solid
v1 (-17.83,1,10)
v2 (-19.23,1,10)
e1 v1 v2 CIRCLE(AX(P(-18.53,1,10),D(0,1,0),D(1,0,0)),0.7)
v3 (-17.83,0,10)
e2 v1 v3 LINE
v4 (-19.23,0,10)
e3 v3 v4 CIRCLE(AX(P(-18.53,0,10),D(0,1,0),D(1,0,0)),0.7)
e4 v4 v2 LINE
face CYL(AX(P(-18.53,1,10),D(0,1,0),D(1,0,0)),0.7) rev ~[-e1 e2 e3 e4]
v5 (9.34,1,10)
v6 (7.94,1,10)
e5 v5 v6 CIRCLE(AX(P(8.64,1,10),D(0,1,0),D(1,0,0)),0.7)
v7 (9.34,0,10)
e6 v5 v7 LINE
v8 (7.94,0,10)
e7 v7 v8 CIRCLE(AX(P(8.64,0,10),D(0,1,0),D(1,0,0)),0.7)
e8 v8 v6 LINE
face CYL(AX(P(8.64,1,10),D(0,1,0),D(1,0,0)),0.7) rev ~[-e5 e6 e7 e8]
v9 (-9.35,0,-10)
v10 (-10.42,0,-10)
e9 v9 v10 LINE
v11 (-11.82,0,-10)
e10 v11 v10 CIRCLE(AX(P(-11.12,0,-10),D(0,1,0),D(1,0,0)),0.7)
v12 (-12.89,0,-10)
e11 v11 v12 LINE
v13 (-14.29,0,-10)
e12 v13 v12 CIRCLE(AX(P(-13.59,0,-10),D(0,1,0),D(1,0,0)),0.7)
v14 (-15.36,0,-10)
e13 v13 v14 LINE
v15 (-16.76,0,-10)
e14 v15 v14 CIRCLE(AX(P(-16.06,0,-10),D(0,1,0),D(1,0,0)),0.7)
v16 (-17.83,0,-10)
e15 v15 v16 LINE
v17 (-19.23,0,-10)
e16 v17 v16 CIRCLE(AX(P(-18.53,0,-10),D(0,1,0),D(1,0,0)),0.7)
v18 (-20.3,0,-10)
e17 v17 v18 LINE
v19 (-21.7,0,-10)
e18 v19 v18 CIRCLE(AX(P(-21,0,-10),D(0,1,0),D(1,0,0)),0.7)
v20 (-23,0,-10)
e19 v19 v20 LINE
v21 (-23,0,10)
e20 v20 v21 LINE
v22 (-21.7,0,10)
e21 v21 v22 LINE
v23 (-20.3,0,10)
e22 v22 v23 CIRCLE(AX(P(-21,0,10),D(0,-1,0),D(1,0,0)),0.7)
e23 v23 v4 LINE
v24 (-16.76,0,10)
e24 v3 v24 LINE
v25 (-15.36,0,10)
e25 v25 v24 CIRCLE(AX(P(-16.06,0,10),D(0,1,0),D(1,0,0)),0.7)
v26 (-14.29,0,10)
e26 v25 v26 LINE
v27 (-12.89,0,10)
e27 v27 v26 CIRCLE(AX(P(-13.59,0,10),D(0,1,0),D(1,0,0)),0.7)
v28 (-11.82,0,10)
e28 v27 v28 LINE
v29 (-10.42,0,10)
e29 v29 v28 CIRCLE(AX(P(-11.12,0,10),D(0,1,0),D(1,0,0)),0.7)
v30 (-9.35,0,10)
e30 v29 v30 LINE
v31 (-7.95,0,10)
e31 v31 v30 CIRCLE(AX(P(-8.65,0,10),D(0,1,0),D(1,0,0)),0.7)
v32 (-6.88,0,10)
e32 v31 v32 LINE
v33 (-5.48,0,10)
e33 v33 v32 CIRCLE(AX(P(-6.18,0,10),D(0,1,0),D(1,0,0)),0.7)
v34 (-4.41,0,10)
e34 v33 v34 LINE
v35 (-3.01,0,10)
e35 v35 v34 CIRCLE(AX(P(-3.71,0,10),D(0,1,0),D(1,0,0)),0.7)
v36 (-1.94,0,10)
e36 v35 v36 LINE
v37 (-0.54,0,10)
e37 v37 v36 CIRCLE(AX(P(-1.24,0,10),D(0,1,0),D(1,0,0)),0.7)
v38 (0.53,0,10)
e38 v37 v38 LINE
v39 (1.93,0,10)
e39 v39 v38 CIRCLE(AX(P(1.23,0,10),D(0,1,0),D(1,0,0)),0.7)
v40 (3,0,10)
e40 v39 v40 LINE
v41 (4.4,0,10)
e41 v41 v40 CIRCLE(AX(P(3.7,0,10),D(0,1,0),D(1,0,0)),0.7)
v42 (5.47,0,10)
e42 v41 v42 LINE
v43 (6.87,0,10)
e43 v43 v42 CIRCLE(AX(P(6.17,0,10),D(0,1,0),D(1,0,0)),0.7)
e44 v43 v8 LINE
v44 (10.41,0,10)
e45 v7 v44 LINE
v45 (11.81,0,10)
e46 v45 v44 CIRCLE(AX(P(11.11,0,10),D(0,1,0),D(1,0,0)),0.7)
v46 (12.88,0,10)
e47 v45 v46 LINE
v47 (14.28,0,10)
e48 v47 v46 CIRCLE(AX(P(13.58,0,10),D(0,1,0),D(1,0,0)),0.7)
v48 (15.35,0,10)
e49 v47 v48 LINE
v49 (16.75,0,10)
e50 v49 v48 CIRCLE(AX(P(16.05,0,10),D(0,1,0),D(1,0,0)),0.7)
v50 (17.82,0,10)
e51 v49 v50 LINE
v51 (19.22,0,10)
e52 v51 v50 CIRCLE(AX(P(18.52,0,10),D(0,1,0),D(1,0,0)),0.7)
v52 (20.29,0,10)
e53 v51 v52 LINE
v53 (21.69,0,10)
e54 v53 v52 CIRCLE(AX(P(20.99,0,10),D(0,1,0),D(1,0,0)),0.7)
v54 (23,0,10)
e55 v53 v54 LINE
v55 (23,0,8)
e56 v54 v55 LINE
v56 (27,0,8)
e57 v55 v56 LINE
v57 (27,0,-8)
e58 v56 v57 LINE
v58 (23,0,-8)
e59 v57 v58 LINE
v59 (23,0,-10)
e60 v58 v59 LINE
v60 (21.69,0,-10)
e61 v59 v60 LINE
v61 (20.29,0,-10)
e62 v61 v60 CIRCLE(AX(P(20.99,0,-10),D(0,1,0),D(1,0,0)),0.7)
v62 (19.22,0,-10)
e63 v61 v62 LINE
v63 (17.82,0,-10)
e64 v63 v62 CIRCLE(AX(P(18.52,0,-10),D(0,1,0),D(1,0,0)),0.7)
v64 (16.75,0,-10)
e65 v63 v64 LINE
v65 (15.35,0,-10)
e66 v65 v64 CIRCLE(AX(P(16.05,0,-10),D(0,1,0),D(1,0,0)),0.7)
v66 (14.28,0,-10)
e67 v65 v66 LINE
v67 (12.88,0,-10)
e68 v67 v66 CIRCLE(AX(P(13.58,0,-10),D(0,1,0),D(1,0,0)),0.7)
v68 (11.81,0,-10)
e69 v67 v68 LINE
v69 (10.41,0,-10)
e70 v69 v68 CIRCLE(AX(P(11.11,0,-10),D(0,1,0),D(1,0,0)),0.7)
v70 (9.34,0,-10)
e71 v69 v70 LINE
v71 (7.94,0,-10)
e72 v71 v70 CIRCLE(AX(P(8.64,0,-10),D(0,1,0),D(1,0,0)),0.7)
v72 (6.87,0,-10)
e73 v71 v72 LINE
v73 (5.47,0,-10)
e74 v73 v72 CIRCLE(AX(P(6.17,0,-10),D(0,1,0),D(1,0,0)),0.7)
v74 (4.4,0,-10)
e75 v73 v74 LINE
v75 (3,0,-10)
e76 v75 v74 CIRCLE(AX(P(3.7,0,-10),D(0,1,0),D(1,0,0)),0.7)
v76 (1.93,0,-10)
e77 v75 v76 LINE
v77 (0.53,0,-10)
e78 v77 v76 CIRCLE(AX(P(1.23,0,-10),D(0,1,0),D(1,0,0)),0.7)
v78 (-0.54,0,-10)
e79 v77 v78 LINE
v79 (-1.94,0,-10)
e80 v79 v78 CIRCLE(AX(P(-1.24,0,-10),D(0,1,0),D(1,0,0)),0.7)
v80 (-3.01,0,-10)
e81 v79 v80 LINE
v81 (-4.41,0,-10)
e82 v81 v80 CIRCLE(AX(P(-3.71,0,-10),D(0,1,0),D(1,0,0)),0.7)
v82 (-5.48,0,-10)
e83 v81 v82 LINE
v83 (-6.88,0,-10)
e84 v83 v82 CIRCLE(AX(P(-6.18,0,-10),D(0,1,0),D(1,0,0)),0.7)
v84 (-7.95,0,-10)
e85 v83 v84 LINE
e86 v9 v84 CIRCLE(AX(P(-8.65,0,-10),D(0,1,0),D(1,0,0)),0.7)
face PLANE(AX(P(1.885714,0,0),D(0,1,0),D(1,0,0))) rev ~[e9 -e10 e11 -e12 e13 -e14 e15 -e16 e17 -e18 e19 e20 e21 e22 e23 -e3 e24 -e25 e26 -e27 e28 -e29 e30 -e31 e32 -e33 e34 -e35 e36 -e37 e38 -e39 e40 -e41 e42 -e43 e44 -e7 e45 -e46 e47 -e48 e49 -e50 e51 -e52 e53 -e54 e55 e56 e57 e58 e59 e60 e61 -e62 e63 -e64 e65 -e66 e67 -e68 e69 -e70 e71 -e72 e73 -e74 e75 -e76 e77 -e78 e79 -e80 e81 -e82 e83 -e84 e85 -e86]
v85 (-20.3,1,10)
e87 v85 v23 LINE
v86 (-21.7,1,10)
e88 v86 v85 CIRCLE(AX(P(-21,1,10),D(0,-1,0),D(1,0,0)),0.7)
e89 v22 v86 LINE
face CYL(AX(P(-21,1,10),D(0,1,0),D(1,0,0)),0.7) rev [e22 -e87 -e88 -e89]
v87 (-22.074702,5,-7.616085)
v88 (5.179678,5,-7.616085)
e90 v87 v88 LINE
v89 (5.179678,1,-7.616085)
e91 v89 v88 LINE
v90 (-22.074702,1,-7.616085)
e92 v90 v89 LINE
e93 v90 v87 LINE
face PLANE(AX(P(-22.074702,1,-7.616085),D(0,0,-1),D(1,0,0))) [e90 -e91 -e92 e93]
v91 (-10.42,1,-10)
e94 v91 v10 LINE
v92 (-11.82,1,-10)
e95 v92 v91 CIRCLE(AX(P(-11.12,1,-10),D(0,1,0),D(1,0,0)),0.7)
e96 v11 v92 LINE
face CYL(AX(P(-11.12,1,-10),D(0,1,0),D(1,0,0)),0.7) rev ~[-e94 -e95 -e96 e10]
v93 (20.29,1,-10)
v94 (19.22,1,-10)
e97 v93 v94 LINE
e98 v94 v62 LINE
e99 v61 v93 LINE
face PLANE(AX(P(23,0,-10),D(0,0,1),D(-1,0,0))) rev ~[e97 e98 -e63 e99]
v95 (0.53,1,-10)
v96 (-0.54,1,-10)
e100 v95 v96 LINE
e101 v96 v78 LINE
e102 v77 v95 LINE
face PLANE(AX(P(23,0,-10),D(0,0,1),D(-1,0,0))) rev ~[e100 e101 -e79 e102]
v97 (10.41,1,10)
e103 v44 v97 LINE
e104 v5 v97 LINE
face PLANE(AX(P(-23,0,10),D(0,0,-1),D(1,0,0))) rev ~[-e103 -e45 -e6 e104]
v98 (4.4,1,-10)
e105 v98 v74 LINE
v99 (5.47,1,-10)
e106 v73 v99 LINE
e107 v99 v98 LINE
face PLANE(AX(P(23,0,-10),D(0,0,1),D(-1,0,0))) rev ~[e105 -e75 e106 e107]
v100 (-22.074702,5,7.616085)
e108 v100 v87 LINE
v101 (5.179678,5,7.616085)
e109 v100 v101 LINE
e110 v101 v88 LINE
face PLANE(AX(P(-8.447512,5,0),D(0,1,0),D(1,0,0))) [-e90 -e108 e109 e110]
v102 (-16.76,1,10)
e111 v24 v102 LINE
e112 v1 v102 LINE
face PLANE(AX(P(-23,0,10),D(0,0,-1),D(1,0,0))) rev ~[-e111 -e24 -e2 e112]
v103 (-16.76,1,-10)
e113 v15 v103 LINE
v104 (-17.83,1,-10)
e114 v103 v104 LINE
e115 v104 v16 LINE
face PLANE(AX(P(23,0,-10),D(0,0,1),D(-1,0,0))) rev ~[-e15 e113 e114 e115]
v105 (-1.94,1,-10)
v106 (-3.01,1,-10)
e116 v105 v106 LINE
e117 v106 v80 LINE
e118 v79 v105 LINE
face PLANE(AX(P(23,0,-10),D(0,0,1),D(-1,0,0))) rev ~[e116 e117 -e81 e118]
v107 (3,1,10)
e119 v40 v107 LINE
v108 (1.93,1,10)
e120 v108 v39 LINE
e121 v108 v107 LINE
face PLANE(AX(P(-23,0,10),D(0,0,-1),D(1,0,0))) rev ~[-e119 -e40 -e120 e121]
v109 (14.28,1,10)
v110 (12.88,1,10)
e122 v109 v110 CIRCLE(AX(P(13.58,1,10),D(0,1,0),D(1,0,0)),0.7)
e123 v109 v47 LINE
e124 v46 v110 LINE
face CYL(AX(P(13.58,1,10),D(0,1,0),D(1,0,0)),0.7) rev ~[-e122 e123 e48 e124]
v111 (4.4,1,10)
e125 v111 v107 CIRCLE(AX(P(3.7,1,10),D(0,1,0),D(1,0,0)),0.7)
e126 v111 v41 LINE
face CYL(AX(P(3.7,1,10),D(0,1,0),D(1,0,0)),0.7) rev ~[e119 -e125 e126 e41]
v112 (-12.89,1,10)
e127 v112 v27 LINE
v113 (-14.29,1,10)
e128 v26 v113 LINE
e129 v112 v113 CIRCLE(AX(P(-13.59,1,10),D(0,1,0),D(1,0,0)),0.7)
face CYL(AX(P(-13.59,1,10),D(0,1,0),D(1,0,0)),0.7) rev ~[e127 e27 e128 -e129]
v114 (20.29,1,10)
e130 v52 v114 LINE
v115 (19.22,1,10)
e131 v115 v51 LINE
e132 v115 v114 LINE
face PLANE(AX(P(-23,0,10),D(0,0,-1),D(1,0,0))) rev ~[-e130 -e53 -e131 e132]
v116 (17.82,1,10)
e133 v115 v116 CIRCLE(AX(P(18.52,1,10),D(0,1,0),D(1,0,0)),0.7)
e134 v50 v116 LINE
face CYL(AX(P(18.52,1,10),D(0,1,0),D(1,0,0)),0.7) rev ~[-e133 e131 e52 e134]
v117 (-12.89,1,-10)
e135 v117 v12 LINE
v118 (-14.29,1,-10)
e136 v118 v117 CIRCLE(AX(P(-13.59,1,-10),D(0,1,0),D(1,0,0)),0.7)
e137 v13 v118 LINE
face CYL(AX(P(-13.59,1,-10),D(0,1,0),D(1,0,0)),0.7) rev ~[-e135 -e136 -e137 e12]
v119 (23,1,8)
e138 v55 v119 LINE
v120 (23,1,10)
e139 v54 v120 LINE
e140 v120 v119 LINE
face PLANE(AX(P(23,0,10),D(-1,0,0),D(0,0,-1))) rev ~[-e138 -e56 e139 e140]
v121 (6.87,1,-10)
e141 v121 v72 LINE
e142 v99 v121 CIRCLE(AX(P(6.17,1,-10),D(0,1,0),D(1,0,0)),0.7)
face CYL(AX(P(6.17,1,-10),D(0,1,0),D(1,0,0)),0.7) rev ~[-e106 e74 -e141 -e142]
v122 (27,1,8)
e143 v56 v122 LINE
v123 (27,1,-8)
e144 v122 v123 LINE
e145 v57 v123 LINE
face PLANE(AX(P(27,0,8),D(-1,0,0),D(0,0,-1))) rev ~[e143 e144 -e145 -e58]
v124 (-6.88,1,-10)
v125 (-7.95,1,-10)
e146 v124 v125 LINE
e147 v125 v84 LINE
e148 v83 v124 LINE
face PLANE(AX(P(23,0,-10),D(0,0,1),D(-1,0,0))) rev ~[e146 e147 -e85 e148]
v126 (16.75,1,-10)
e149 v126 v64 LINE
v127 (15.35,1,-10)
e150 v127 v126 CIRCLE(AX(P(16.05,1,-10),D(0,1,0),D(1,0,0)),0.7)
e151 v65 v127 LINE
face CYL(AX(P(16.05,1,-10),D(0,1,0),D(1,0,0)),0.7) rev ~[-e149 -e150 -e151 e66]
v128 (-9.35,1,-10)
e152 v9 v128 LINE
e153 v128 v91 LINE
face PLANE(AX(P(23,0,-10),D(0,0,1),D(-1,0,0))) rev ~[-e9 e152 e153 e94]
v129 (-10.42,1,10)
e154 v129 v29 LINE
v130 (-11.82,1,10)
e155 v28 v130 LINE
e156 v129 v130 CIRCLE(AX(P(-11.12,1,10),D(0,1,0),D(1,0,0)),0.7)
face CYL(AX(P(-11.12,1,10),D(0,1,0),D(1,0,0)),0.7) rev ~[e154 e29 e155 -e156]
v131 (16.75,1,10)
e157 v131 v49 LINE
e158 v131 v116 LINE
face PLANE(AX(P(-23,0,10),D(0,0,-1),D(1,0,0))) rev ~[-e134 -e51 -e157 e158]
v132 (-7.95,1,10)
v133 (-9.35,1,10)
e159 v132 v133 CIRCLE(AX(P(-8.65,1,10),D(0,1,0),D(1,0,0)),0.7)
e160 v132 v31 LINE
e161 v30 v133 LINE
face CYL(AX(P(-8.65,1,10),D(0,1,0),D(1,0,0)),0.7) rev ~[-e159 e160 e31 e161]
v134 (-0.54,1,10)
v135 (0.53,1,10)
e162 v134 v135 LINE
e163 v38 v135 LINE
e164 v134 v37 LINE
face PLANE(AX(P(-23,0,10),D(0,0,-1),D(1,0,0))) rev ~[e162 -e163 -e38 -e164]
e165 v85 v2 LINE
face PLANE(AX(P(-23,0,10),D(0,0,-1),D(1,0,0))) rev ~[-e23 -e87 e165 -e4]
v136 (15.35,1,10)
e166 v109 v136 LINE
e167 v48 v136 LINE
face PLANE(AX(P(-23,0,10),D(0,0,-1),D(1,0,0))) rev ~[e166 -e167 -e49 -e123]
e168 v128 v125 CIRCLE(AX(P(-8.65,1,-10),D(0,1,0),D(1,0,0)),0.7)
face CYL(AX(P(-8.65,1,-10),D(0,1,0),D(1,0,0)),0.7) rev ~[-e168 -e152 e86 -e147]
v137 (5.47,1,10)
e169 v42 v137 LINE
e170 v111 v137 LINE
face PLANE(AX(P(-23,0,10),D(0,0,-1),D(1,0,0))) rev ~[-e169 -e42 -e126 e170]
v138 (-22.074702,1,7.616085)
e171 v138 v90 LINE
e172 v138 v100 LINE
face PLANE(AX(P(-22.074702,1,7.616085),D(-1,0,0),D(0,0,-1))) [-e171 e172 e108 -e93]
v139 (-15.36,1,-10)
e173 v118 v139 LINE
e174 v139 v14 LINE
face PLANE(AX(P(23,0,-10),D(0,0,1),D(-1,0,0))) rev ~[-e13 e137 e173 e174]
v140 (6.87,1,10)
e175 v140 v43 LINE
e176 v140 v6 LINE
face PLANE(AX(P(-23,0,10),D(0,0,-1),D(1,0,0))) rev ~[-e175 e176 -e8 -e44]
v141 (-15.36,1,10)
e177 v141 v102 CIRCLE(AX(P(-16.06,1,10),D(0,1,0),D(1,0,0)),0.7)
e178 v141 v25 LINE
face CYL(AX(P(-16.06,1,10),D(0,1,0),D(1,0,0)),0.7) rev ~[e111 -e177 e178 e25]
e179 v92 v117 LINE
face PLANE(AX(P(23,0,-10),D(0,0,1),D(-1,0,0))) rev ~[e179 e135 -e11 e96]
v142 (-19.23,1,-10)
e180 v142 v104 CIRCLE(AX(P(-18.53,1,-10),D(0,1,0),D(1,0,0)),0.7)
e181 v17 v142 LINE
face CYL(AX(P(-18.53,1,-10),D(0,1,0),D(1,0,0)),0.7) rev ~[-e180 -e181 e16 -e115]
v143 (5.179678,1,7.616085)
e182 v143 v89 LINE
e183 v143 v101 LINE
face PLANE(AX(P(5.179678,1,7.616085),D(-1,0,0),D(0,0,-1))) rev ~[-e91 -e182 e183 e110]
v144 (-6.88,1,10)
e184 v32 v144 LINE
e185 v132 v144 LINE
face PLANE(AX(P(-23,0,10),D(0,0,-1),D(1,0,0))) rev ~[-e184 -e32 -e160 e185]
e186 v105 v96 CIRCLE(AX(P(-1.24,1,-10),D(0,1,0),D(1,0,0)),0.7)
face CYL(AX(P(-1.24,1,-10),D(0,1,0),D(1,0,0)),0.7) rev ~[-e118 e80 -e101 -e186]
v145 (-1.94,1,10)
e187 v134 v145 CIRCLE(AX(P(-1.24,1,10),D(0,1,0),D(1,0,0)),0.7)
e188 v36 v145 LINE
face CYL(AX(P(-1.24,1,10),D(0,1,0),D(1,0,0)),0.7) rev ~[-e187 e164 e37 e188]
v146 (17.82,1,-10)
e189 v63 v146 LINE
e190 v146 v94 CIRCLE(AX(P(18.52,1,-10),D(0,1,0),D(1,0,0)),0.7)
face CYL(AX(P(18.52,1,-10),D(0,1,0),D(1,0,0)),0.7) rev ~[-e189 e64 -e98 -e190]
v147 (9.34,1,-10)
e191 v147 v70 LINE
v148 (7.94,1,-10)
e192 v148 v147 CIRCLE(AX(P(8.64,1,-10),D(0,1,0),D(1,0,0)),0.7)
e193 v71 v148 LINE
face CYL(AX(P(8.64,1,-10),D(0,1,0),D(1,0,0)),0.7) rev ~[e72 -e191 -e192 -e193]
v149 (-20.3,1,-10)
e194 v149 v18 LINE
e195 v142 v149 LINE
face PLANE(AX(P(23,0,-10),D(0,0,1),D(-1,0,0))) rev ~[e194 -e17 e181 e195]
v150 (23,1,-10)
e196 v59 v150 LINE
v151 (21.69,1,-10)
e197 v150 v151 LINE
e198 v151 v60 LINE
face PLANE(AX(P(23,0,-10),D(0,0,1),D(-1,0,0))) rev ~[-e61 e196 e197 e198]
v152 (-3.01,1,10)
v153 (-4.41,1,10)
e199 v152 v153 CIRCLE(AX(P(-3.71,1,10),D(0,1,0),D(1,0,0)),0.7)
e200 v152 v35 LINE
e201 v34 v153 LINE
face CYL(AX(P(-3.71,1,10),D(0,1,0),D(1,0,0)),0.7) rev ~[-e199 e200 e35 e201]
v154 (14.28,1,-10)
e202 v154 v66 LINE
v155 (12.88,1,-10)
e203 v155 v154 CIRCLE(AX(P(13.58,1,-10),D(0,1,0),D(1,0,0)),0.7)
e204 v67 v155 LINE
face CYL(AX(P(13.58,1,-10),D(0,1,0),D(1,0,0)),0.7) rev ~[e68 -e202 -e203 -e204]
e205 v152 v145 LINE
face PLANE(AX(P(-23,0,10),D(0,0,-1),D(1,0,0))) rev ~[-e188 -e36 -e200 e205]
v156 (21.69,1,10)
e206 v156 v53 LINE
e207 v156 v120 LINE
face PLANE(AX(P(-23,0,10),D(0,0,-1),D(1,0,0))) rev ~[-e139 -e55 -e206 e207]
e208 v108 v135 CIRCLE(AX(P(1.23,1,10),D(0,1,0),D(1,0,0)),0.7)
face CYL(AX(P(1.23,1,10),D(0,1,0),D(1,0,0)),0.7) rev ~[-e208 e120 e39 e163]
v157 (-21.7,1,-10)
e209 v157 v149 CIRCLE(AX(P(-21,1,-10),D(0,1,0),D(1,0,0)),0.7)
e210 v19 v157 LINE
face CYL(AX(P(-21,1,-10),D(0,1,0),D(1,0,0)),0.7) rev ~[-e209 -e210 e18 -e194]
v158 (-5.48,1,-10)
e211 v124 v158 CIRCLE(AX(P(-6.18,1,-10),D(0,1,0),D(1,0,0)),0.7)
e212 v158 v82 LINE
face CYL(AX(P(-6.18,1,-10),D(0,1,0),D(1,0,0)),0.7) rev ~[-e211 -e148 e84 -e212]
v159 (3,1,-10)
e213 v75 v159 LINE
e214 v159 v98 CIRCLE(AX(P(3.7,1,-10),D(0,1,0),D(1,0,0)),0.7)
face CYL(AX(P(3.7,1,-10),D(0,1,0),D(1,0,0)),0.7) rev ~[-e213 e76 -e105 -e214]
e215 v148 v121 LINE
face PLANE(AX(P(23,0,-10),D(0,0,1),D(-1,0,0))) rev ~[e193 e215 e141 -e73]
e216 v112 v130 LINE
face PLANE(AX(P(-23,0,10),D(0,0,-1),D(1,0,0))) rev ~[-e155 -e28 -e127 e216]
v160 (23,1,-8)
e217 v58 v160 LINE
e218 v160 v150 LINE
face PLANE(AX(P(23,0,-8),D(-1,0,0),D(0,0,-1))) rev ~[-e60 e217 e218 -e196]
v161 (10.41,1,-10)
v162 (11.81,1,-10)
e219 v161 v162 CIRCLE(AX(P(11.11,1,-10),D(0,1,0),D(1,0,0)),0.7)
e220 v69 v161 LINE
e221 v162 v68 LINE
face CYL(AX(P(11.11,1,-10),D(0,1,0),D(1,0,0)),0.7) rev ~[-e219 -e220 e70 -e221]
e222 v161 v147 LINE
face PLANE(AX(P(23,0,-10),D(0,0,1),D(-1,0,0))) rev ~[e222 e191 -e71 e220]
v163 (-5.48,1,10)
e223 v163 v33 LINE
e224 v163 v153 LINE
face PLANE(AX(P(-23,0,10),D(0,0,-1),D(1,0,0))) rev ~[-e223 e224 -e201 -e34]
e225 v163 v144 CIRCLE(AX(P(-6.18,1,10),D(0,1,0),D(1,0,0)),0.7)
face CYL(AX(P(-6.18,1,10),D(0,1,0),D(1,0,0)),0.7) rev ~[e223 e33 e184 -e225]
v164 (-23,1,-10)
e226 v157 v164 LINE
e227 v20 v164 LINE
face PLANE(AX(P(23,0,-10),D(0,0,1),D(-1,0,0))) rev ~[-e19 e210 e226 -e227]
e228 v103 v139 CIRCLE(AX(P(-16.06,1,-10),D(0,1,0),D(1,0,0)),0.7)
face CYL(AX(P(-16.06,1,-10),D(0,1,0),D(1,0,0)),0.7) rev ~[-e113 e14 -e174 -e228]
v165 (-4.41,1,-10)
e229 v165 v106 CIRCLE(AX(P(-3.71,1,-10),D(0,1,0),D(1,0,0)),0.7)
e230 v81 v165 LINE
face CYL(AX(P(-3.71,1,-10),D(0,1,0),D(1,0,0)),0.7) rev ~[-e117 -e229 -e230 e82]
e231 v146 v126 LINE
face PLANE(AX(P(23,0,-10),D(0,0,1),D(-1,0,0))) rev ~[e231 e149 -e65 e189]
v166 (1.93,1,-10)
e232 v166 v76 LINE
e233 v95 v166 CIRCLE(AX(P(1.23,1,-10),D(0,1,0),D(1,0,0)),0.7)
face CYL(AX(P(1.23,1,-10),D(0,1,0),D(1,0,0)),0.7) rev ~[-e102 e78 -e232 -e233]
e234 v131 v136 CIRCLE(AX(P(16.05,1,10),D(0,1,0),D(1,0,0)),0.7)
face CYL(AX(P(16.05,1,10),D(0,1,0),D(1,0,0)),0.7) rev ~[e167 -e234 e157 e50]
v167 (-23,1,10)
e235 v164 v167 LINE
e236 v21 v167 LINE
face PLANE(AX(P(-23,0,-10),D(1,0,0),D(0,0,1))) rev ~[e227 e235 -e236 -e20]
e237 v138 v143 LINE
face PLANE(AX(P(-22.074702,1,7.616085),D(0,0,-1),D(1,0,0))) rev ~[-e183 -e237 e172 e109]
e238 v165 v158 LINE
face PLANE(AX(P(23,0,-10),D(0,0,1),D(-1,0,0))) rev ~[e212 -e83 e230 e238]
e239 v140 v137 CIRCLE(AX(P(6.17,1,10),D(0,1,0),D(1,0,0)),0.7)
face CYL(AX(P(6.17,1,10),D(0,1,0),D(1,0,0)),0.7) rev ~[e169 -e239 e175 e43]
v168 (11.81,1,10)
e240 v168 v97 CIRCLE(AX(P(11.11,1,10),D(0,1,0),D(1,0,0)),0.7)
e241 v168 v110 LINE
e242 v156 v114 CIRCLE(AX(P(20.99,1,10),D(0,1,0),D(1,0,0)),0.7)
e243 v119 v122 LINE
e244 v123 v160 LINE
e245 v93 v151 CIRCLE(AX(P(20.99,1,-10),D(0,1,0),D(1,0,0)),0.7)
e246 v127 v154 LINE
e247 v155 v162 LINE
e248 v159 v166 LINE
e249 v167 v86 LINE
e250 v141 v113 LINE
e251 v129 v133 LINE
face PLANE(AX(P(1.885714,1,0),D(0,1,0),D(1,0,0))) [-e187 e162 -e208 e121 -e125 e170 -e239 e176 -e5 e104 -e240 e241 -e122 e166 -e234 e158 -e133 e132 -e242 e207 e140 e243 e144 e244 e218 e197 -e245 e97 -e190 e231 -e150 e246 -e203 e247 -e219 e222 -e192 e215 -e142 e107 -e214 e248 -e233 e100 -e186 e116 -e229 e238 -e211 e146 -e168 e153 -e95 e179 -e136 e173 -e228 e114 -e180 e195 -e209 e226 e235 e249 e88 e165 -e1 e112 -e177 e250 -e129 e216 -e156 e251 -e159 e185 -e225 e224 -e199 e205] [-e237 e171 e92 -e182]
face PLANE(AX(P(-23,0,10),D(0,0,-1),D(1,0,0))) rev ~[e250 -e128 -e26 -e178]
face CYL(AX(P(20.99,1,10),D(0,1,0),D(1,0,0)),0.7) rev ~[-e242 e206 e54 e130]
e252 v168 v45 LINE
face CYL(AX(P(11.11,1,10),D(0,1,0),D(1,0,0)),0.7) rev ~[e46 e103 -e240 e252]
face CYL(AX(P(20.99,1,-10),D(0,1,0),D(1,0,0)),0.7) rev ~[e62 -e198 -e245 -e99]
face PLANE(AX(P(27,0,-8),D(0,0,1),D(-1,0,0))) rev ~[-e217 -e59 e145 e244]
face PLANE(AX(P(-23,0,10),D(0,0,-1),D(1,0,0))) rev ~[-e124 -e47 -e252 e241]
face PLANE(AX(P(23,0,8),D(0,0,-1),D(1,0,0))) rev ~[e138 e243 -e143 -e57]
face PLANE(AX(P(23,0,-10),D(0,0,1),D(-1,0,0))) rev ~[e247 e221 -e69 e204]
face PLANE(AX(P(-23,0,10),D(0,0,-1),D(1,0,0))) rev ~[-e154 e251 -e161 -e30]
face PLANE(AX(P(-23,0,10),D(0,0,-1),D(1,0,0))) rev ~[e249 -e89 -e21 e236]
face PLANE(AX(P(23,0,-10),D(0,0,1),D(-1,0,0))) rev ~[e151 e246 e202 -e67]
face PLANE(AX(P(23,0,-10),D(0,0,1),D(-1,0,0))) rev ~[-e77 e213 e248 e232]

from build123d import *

# Parameters (mm, degrees)
BOSS_EXTRUDE2_DEPTH      = 1
SKETCH5_R                = 0.7
CUT_EXTRUDE2_DEPTH       = 1
LPATTERN2_COUNT          = 18
LPATTERN2_PITCH          = 2.47
MIRROR1_COPY_1_SKETCH_R  = 0.7
MIRROR1_COPY_1_DEPTH     = 1
MIRROR1_COPY_2_SKETCH_R  = 0.7
MIRROR1_COPY_2_DEPTH     = 1
MIRROR1_COPY_3_SKETCH_R  = 0.7
MIRROR1_COPY_3_DEPTH     = 1
MIRROR1_COPY_4_SKETCH_R  = 0.7
MIRROR1_COPY_4_DEPTH     = 1
MIRROR1_COPY_5_SKETCH_R  = 0.7
MIRROR1_COPY_5_DEPTH     = 1
MIRROR1_COPY_6_SKETCH_R  = 0.7
MIRROR1_COPY_6_DEPTH     = 1
MIRROR1_COPY_7_SKETCH_R  = 0.7
MIRROR1_COPY_7_DEPTH     = 1
MIRROR1_COPY_8_SKETCH_R  = 0.7
MIRROR1_COPY_8_DEPTH     = 1
MIRROR1_COPY_9_SKETCH_R  = 0.7
MIRROR1_COPY_9_DEPTH     = 1
MIRROR1_COPY_10_SKETCH_R = 0.7
MIRROR1_COPY_10_DEPTH    = 1
MIRROR1_COPY_11_SKETCH_R = 0.7
MIRROR1_COPY_11_DEPTH    = 1
MIRROR1_COPY_12_SKETCH_R = 0.7
MIRROR1_COPY_12_DEPTH    = 1
MIRROR1_COPY_13_SKETCH_R = 0.7
MIRROR1_COPY_13_DEPTH    = 1
MIRROR1_COPY_14_SKETCH_R = 0.7
MIRROR1_COPY_14_DEPTH    = 1
MIRROR1_COPY_15_SKETCH_R = 0.7
MIRROR1_COPY_15_DEPTH    = 1
MIRROR1_COPY_16_SKETCH_R = 0.7
MIRROR1_COPY_16_DEPTH    = 1
MIRROR1_COPY_17_SKETCH_R = 0.7
MIRROR1_COPY_17_DEPTH    = 1
SKETCH6_W                = 27.254379167
SKETCH6_H                = 15.23216969
BOSS_EXTRUDE3_DEPTH      = 4


with BuildPart() as part:
    # Sketch4 → Boss-Extrude2 (new body)
    with BuildSketch(Plane(origin=(0, 0, 0), x_dir=(1, 0, 0), z_dir=(0, 1, 0))):
        Polygon((-23, -10), (23, -10), (23, -8), (27, -8), (27, 8), (23, 8), (23, 10), (-23, 10), align=None)
    extrude(amount=BOSS_EXTRUDE2_DEPTH)

    # Sketch5 → Cut-Extrude2 (cut)
    with BuildSketch(Plane(origin=(0, 1, 0), x_dir=(1, 0, 0), z_dir=(0, 1, 0))):
        with Locations((-21, 10)):
            Circle(SKETCH5_R)
    cut_extrude2 = extrude(amount=-CUT_EXTRUDE2_DEPTH, mode=Mode.SUBTRACT)

    # LPattern2: Cut-Extrude2 ×18
    with Locations(*[(i * LPATTERN2_PITCH, 0, 0) for i in range(1, LPATTERN2_COUNT)]):
        add(cut_extrude2, mode=Mode.SUBTRACT)

    # Mirror1: Cut-Extrude2 across plane
    add(cut_extrude2.mirror(Plane.XY), mode=Mode.SUBTRACT)

    # Mirror1 copy 1 sketch → Mirror1 copy 1 (cut)
    with BuildSketch(Plane(origin=(2.47, 1, 0), x_dir=(1, 0, 0), z_dir=(0, 1, 0))):
        with Locations((-21, -10)):
            Circle(MIRROR1_COPY_1_SKETCH_R)
    extrude(amount=-MIRROR1_COPY_1_DEPTH, mode=Mode.SUBTRACT)

    # Mirror1 copy 2 sketch → Mirror1 copy 2 (cut)
    with BuildSketch(Plane(origin=(4.94, 1, 0), x_dir=(1, 0, 0), z_dir=(0, 1, 0))):
        with Locations((-21, -10)):
            Circle(MIRROR1_COPY_2_SKETCH_R)
    extrude(amount=-MIRROR1_COPY_2_DEPTH, mode=Mode.SUBTRACT)

    # Mirror1 copy 3 sketch → Mirror1 copy 3 (cut)
    with BuildSketch(Plane(origin=(7.41, 1, 0), x_dir=(1, 0, 0), z_dir=(0, 1, 0))):
        with Locations((-21, -10)):
            Circle(MIRROR1_COPY_3_SKETCH_R)
    extrude(amount=-MIRROR1_COPY_3_DEPTH, mode=Mode.SUBTRACT)

    # Mirror1 copy 4 sketch → Mirror1 copy 4 (cut)
    with BuildSketch(Plane(origin=(9.88, 1, 0), x_dir=(1, 0, 0), z_dir=(0, 1, 0))):
        with Locations((-21, -10)):
            Circle(MIRROR1_COPY_4_SKETCH_R)
    extrude(amount=-MIRROR1_COPY_4_DEPTH, mode=Mode.SUBTRACT)

    # Mirror1 copy 5 sketch → Mirror1 copy 5 (cut)
    with BuildSketch(Plane(origin=(12.35, 1, 0), x_dir=(1, 0, 0), z_dir=(0, 1, 0))):
        with Locations((-21, -10)):
            Circle(MIRROR1_COPY_5_SKETCH_R)
    extrude(amount=-MIRROR1_COPY_5_DEPTH, mode=Mode.SUBTRACT)

    # Mirror1 copy 6 sketch → Mirror1 copy 6 (cut)
    with BuildSketch(Plane(origin=(14.82, 1, 0), x_dir=(1, 0, 0), z_dir=(0, 1, 0))):
        with Locations((-21, -10)):
            Circle(MIRROR1_COPY_6_SKETCH_R)
    extrude(amount=-MIRROR1_COPY_6_DEPTH, mode=Mode.SUBTRACT)

    # Mirror1 copy 7 sketch → Mirror1 copy 7 (cut)
    with BuildSketch(Plane(origin=(17.29, 1, 0), x_dir=(1, 0, 0), z_dir=(0, 1, 0))):
        with Locations((-21, -10)):
            Circle(MIRROR1_COPY_7_SKETCH_R)
    extrude(amount=-MIRROR1_COPY_7_DEPTH, mode=Mode.SUBTRACT)

    # Mirror1 copy 8 sketch → Mirror1 copy 8 (cut)
    with BuildSketch(Plane(origin=(19.76, 1, 0), x_dir=(1, 0, 0), z_dir=(0, 1, 0))):
        with Locations((-21, -10)):
            Circle(MIRROR1_COPY_8_SKETCH_R)
    extrude(amount=-MIRROR1_COPY_8_DEPTH, mode=Mode.SUBTRACT)

    # Mirror1 copy 9 sketch → Mirror1 copy 9 (cut)
    with BuildSketch(Plane(origin=(22.23, 1, 0), x_dir=(1, 0, 0), z_dir=(0, 1, 0))):
        with Locations((-21, -10)):
            Circle(MIRROR1_COPY_9_SKETCH_R)
    extrude(amount=-MIRROR1_COPY_9_DEPTH, mode=Mode.SUBTRACT)

    # Mirror1 copy 10 sketch → Mirror1 copy 10 (cut)
    with BuildSketch(Plane(origin=(24.7, 1, 0), x_dir=(1, 0, 0), z_dir=(0, 1, 0))):
        with Locations((-21, -10)):
            Circle(MIRROR1_COPY_10_SKETCH_R)
    extrude(amount=-MIRROR1_COPY_10_DEPTH, mode=Mode.SUBTRACT)

    # Mirror1 copy 11 sketch → Mirror1 copy 11 (cut)
    with BuildSketch(Plane(origin=(27.17, 1, 0), x_dir=(1, 0, 0), z_dir=(0, 1, 0))):
        with Locations((-21, -10)):
            Circle(MIRROR1_COPY_11_SKETCH_R)
    extrude(amount=-MIRROR1_COPY_11_DEPTH, mode=Mode.SUBTRACT)

    # Mirror1 copy 12 sketch → Mirror1 copy 12 (cut)
    with BuildSketch(Plane(origin=(29.64, 1, 0), x_dir=(1, 0, 0), z_dir=(0, 1, 0))):
        with Locations((-21, -10)):
            Circle(MIRROR1_COPY_12_SKETCH_R)
    extrude(amount=-MIRROR1_COPY_12_DEPTH, mode=Mode.SUBTRACT)

    # Mirror1 copy 13 sketch → Mirror1 copy 13 (cut)
    with BuildSketch(Plane(origin=(32.11, 1, 0), x_dir=(1, 0, 0), z_dir=(0, 1, 0))):
        with Locations((-21, -10)):
            Circle(MIRROR1_COPY_13_SKETCH_R)
    extrude(amount=-MIRROR1_COPY_13_DEPTH, mode=Mode.SUBTRACT)

    # Mirror1 copy 14 sketch → Mirror1 copy 14 (cut)
    with BuildSketch(Plane(origin=(34.58, 1, 0), x_dir=(1, 0, 0), z_dir=(0, 1, 0))):
        with Locations((-21, -10)):
            Circle(MIRROR1_COPY_14_SKETCH_R)
    extrude(amount=-MIRROR1_COPY_14_DEPTH, mode=Mode.SUBTRACT)

    # Mirror1 copy 15 sketch → Mirror1 copy 15 (cut)
    with BuildSketch(Plane(origin=(37.05, 1, 0), x_dir=(1, 0, 0), z_dir=(0, 1, 0))):
        with Locations((-21, -10)):
            Circle(MIRROR1_COPY_15_SKETCH_R)
    extrude(amount=-MIRROR1_COPY_15_DEPTH, mode=Mode.SUBTRACT)

    # Mirror1 copy 16 sketch → Mirror1 copy 16 (cut)
    with BuildSketch(Plane(origin=(39.52, 1, 0), x_dir=(1, 0, 0), z_dir=(0, 1, 0))):
        with Locations((-21, -10)):
            Circle(MIRROR1_COPY_16_SKETCH_R)
    extrude(amount=-MIRROR1_COPY_16_DEPTH, mode=Mode.SUBTRACT)

    # Mirror1 copy 17 sketch → Mirror1 copy 17 (cut)
    with BuildSketch(Plane(origin=(41.99, 1, 0), x_dir=(1, 0, 0), z_dir=(0, 1, 0))):
        with Locations((-21, -10)):
            Circle(MIRROR1_COPY_17_SKETCH_R)
    extrude(amount=-MIRROR1_COPY_17_DEPTH, mode=Mode.SUBTRACT)

    # Sketch6 → Boss-Extrude3 (add)
    with BuildSketch(Plane(origin=(0, 1, 0), x_dir=(1, 0, 0), z_dir=(0, 1, 0))):
        with Locations((-8.447512014, 0)):
            Rectangle(SKETCH6_W, SKETCH6_H)
    extrude(amount=BOSS_EXTRUDE3_DEPTH)


solid = part.part
